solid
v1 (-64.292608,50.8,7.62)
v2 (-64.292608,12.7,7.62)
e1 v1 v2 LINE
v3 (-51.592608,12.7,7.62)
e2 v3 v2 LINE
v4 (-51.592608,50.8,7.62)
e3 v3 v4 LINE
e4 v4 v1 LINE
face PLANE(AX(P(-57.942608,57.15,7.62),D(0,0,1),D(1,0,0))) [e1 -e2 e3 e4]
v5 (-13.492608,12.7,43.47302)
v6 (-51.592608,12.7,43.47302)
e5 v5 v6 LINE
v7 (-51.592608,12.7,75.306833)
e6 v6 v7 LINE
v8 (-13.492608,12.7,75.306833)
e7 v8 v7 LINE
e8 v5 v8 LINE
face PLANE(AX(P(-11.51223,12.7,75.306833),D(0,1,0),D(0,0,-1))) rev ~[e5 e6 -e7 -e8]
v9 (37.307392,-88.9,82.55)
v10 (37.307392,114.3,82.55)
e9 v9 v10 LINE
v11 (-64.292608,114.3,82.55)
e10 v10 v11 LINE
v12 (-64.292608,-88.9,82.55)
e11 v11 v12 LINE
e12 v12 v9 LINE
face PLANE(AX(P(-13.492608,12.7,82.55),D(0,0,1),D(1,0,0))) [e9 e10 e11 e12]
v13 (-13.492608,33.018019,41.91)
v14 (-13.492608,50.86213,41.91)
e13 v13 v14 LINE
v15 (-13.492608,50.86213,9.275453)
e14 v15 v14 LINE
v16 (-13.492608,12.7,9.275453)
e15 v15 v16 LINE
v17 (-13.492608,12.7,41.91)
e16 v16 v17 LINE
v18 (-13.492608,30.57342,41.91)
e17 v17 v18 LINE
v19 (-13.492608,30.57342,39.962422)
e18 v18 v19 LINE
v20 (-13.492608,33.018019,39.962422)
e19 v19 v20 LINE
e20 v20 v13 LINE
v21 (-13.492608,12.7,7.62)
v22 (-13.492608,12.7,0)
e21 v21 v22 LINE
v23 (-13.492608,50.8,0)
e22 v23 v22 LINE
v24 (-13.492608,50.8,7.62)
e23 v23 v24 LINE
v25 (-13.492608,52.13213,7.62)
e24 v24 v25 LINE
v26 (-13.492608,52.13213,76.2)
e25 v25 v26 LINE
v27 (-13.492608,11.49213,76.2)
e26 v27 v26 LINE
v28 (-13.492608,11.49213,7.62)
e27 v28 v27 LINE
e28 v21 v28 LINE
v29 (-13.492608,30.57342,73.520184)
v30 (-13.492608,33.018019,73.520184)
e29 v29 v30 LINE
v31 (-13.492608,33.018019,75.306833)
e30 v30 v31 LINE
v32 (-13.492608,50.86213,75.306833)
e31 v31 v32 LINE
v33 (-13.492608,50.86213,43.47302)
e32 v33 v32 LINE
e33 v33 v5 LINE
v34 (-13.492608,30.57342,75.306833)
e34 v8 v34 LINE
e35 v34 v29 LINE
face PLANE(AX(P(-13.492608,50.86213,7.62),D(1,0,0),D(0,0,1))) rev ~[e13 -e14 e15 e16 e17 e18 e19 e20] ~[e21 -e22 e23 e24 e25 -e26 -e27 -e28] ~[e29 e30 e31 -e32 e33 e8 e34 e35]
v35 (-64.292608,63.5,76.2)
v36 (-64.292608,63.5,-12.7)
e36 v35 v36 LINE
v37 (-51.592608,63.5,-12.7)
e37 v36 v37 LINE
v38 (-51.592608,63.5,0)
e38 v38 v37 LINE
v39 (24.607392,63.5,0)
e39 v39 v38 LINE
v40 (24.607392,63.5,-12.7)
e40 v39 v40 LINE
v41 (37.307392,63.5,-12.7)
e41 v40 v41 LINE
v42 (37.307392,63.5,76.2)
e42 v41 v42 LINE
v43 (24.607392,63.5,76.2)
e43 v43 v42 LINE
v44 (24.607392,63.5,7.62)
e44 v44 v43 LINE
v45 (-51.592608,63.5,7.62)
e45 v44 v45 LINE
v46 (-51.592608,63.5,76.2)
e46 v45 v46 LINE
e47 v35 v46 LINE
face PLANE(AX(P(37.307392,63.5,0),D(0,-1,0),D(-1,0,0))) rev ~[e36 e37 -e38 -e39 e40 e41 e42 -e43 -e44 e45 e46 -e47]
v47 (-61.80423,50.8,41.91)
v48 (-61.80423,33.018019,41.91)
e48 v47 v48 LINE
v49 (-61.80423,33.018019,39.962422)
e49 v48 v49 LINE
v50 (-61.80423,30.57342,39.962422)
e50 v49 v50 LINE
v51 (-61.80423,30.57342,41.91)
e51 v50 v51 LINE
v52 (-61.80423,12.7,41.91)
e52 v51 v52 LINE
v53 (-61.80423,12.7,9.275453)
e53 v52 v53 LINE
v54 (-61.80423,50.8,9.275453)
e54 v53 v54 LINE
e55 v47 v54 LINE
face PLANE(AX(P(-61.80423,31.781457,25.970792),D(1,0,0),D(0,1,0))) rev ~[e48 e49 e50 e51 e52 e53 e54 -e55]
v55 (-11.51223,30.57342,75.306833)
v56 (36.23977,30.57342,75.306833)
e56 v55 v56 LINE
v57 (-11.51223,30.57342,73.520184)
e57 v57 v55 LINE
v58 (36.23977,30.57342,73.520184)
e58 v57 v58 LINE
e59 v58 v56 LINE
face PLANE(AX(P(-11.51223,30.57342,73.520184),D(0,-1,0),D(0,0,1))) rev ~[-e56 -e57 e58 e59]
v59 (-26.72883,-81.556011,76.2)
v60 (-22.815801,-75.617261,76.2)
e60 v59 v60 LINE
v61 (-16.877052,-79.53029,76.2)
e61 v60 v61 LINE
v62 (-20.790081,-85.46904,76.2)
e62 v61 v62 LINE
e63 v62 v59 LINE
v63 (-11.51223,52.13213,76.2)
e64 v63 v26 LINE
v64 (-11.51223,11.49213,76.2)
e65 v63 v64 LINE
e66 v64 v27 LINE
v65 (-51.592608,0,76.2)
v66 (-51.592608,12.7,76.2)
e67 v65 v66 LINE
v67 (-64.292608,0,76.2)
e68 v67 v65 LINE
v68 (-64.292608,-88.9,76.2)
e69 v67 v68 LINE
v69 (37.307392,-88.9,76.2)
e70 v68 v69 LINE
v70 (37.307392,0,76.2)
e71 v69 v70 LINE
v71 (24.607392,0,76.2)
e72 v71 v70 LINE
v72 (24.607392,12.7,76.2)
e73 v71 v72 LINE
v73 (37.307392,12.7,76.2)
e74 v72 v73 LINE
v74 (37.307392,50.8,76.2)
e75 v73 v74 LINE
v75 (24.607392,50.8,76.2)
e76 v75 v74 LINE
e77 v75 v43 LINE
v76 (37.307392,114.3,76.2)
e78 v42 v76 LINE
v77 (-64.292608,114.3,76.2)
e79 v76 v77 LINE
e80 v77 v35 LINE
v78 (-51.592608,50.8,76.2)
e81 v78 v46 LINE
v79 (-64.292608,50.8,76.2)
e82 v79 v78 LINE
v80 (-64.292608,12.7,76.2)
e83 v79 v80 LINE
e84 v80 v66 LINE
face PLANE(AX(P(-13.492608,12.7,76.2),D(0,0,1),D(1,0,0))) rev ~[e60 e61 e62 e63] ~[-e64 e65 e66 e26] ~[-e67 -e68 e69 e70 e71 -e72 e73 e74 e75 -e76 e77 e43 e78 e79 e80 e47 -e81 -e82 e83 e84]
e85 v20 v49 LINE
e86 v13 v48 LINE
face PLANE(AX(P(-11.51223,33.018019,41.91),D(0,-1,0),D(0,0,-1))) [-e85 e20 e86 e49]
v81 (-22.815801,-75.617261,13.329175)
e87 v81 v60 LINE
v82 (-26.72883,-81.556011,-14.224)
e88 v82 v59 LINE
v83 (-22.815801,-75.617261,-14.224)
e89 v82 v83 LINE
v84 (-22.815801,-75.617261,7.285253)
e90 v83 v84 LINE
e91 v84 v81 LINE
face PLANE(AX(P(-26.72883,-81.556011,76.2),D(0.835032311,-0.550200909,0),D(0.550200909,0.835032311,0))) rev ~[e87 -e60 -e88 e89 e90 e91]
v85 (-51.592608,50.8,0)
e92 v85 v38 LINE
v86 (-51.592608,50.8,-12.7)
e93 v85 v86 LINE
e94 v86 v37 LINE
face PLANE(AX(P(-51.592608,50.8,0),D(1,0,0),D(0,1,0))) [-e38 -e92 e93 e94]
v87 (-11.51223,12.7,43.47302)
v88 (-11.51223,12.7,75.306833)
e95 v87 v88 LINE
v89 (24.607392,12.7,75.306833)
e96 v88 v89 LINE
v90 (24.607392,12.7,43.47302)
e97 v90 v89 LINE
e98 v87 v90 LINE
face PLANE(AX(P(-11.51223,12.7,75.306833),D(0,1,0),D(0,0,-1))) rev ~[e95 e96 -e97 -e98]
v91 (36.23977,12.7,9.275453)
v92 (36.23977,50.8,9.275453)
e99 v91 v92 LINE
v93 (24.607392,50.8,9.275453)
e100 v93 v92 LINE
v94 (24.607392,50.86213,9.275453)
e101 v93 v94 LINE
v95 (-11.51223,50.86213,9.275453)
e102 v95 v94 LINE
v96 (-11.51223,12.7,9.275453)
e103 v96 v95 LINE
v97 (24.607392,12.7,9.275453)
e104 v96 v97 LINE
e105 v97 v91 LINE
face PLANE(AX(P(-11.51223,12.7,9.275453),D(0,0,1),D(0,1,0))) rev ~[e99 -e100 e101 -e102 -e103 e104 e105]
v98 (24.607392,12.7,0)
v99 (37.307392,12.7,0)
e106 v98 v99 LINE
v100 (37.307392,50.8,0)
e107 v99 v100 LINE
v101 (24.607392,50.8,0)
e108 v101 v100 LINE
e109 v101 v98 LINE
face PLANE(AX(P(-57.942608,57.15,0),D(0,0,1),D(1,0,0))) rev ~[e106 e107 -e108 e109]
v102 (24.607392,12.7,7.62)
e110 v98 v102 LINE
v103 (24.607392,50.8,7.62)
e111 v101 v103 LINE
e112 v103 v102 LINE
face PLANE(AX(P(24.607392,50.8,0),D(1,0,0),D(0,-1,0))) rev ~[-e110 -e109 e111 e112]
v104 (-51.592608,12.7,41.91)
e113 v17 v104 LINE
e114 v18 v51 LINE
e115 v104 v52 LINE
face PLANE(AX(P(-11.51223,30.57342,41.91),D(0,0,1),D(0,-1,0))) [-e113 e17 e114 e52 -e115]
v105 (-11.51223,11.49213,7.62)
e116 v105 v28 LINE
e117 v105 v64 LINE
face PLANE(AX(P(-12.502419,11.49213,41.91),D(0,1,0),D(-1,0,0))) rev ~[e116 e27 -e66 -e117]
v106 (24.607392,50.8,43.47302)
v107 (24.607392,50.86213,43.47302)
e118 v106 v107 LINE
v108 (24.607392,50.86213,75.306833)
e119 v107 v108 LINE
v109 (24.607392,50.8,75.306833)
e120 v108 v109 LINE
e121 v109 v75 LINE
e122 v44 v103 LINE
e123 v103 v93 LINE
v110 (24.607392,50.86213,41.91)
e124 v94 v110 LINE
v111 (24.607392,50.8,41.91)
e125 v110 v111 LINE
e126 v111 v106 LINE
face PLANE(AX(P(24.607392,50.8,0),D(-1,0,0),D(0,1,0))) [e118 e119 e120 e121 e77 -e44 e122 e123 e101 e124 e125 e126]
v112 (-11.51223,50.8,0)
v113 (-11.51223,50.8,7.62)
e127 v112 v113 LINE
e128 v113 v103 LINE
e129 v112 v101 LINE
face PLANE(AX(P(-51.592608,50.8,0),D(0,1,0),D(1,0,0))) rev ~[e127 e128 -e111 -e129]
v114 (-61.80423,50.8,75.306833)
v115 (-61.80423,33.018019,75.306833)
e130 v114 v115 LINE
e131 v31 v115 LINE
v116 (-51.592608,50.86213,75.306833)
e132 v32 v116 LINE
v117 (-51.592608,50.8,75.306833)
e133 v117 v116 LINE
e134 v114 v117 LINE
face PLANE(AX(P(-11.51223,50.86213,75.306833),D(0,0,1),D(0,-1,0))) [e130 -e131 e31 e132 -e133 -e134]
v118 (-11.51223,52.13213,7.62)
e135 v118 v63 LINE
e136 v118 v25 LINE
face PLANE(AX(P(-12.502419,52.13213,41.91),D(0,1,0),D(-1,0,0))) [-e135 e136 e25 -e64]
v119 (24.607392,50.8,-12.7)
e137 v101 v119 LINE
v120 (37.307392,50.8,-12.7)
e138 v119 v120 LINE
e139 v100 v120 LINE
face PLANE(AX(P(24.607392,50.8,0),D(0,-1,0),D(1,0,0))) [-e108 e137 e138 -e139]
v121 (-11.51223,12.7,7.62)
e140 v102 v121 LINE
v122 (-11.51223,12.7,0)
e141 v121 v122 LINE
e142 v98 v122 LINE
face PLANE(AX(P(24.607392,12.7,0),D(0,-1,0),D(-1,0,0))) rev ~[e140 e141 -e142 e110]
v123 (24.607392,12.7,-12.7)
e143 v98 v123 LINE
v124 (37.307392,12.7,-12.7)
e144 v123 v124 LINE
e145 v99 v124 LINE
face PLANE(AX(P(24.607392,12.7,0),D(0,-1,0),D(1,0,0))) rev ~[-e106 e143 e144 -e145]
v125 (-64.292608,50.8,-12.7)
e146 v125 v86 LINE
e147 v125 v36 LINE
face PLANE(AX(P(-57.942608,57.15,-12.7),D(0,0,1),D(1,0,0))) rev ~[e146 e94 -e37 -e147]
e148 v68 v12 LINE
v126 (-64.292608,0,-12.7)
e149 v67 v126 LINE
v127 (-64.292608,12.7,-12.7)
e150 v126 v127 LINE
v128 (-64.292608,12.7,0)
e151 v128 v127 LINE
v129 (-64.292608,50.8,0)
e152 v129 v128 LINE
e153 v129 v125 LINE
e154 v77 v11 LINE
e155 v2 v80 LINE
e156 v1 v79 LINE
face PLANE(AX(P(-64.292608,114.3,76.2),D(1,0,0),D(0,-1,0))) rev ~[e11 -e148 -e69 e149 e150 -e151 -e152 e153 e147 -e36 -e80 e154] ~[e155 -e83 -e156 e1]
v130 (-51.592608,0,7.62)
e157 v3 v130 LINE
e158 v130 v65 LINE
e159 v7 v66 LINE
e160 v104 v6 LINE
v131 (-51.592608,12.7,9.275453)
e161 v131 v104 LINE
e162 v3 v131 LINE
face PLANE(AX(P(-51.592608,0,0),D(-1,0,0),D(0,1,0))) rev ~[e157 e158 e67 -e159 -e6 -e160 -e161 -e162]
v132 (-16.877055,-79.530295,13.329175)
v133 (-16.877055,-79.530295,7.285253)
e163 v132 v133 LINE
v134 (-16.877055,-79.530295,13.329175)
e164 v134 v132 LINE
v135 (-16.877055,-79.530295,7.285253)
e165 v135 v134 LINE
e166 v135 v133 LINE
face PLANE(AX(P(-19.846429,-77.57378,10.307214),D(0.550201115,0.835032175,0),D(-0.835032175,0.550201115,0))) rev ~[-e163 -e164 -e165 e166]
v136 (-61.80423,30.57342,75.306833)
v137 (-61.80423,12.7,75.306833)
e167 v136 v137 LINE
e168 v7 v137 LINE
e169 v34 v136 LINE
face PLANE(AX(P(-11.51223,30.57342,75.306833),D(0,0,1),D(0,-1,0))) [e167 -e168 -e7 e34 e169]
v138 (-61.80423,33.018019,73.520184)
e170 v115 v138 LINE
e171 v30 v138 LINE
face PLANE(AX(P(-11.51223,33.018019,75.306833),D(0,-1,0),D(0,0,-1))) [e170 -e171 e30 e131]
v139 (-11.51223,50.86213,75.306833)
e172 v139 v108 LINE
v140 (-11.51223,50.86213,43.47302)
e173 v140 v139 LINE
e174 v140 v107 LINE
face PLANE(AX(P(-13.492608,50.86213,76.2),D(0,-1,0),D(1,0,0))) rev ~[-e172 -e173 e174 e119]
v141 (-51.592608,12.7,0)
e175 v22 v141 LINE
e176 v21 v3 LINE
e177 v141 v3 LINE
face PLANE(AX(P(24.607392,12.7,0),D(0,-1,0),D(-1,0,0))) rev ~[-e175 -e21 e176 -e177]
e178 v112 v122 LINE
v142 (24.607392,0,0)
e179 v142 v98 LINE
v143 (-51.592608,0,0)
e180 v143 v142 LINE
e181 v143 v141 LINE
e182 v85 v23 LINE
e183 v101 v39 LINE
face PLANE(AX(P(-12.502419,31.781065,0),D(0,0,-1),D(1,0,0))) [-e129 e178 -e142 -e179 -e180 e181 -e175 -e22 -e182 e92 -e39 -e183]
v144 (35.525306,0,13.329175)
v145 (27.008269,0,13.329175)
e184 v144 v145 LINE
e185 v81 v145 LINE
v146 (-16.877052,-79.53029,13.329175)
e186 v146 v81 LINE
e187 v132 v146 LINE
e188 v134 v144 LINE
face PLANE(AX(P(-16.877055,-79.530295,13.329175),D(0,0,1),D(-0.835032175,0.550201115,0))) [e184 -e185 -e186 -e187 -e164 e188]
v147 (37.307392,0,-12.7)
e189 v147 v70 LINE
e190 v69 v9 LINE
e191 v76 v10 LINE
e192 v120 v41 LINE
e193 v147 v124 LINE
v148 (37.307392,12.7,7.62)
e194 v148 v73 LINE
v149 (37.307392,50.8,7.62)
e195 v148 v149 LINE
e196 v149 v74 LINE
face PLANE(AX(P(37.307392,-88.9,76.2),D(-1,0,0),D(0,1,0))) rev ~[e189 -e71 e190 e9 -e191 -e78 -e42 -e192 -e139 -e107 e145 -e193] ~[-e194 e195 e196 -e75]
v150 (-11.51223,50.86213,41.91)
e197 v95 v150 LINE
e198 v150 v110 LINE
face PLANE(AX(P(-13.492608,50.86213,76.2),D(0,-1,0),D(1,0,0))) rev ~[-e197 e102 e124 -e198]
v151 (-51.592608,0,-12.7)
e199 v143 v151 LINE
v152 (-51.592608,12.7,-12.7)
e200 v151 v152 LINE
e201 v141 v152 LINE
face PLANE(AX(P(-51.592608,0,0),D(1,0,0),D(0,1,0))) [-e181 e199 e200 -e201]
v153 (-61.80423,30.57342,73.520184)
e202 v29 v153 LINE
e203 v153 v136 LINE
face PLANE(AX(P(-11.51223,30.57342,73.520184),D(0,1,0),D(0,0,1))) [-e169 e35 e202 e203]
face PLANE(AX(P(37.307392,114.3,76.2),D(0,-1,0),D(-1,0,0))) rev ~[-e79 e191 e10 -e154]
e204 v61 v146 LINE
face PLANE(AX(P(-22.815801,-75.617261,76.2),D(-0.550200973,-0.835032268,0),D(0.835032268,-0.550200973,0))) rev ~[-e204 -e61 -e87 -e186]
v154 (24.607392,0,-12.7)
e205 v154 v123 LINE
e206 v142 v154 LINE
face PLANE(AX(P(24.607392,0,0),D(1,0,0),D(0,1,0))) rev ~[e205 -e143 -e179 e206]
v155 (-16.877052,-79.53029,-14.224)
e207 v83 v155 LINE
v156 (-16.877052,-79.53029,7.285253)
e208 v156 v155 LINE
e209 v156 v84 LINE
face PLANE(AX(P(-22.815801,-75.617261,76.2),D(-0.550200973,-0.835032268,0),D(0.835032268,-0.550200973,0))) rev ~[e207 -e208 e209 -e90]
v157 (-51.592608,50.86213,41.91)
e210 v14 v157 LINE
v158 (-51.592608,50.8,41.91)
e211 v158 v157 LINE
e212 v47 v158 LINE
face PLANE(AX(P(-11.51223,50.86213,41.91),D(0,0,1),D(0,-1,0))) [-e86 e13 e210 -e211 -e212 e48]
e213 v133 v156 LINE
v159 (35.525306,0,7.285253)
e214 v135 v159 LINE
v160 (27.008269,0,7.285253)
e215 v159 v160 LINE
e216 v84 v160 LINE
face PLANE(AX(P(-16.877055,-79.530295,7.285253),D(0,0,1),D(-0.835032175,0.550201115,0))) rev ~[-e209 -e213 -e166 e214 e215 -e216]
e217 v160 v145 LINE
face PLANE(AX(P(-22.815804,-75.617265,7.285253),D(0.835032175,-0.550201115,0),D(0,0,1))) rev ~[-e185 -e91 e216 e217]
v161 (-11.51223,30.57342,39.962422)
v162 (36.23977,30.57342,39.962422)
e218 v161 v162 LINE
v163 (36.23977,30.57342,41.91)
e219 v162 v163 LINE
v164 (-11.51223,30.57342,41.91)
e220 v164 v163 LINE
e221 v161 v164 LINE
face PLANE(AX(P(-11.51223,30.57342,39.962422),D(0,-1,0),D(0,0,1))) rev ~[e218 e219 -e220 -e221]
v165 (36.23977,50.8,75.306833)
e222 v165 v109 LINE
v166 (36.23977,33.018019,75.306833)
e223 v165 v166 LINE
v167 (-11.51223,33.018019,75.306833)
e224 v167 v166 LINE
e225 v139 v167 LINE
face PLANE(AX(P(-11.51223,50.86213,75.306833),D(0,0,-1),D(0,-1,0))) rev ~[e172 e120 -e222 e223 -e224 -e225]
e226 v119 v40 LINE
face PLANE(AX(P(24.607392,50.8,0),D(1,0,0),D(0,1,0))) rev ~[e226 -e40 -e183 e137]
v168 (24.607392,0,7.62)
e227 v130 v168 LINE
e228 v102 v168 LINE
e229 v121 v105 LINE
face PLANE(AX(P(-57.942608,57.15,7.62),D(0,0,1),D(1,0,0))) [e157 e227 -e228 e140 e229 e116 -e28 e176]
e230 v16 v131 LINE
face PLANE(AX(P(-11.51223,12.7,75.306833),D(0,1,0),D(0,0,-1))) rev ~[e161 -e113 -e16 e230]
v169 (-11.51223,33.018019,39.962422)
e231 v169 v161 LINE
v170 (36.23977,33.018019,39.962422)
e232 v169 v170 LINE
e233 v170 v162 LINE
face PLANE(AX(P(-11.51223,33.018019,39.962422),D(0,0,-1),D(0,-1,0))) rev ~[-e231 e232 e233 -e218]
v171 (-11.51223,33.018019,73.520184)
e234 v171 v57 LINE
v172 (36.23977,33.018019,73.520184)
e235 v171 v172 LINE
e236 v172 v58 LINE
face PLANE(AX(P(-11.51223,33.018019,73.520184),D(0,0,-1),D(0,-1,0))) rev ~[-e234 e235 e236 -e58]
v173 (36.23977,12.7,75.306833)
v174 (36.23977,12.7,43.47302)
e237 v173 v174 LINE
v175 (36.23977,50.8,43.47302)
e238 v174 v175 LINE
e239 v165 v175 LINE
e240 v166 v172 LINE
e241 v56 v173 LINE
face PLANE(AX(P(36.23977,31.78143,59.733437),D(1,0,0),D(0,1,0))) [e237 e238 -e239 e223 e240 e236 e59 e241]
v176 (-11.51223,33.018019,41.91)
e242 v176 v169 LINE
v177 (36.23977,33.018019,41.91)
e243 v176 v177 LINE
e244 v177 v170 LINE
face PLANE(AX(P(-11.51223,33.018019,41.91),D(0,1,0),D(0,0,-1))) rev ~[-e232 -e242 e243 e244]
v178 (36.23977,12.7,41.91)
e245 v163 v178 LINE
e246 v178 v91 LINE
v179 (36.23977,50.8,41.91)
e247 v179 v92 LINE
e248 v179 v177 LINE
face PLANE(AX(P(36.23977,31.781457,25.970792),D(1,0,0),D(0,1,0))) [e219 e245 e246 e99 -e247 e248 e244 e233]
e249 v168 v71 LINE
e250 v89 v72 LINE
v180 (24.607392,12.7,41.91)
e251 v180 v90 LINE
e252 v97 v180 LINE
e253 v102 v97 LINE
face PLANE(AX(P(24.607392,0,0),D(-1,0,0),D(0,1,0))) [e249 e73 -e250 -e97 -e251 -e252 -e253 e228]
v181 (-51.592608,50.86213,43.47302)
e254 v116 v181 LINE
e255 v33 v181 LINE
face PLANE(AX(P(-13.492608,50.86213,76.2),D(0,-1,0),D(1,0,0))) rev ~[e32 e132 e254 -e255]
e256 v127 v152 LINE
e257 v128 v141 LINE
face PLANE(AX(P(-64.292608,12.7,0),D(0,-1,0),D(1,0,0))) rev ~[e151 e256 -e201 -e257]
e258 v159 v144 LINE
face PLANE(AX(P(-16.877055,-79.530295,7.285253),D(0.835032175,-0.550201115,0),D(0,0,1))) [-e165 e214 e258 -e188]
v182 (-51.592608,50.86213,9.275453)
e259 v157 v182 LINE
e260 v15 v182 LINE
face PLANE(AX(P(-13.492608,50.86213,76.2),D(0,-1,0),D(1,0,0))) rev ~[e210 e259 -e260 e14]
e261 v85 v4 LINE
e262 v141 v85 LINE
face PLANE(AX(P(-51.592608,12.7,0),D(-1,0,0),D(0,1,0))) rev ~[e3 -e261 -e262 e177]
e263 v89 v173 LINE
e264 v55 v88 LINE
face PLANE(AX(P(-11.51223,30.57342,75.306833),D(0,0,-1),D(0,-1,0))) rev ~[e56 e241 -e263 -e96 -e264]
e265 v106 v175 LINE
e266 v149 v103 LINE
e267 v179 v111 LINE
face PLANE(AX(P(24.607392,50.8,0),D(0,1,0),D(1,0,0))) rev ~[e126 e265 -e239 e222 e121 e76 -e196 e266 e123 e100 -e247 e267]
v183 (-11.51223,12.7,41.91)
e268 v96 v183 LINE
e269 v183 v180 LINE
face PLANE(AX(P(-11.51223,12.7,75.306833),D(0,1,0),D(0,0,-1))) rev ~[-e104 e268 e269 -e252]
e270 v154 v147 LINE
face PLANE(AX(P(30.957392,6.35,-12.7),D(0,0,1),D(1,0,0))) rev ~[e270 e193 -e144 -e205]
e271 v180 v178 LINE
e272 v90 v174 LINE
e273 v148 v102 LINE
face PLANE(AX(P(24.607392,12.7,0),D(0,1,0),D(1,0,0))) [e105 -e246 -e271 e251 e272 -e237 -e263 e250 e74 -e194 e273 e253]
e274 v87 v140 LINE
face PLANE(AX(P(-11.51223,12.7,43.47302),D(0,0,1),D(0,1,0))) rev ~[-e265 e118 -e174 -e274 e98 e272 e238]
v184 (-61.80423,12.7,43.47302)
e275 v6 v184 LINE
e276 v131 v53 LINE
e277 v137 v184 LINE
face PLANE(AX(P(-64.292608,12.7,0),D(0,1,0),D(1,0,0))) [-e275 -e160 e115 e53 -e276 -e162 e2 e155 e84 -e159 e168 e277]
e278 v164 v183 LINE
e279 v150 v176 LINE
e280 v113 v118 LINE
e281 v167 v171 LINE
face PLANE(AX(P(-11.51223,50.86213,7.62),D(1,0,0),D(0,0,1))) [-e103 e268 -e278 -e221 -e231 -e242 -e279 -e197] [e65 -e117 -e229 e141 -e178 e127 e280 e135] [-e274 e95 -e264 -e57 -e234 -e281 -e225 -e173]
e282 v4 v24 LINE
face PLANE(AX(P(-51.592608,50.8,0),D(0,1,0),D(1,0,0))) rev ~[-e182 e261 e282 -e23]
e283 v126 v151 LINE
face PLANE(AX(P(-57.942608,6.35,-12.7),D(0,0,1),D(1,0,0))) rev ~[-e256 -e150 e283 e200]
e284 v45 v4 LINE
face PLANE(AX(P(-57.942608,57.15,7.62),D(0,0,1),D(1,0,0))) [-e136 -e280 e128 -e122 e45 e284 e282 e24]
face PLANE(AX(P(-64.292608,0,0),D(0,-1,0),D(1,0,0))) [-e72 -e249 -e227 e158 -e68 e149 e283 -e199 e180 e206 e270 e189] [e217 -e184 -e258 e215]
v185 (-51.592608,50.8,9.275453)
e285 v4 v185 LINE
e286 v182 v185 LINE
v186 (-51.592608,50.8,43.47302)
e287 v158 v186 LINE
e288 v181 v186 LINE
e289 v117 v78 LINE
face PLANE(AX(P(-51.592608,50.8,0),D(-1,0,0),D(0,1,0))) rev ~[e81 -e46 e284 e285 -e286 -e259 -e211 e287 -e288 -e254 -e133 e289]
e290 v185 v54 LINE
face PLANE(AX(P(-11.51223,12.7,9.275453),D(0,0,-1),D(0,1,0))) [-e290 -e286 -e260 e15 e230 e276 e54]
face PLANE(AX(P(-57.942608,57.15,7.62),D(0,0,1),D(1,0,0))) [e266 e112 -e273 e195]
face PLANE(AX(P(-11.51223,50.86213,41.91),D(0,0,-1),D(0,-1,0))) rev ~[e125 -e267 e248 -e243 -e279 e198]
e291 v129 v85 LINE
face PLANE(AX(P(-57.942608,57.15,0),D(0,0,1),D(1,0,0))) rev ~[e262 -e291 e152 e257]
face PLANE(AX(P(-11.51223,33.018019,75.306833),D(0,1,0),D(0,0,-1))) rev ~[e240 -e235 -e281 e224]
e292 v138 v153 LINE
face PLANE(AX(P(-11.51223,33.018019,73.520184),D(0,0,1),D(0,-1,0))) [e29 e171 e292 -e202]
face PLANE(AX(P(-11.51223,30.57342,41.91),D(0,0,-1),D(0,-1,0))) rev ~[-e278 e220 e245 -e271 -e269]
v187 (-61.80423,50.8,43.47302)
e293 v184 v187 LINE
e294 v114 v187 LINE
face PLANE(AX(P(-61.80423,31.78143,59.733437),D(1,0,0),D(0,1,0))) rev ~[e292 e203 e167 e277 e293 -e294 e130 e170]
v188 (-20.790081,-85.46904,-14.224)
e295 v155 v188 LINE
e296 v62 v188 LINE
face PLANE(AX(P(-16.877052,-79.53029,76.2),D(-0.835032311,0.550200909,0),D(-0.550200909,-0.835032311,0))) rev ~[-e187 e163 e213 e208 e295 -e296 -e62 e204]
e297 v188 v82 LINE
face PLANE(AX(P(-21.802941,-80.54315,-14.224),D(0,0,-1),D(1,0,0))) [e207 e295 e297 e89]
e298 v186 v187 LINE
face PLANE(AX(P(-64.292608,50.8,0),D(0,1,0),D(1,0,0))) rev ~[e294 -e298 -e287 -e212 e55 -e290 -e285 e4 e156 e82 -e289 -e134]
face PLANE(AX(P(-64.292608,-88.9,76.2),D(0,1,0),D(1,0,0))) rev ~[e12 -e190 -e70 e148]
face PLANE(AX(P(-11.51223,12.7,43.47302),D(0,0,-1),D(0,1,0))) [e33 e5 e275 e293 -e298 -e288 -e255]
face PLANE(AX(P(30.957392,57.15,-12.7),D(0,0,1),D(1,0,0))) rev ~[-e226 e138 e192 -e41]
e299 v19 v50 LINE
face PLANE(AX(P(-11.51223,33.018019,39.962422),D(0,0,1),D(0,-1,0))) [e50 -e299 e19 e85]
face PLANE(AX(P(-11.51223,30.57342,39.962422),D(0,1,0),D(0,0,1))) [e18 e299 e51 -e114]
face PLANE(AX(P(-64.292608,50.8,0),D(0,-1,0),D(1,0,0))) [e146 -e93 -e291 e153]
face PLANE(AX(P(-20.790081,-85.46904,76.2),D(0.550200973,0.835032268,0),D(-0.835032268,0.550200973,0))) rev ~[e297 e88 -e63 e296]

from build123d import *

# Parameters (mm, degrees)
F0_W           = 12.7
F0_H           = 12.7
F0_H_2         = 38.1
F0_W_2         = 76.2
F1_DEPTH       = 7.62
F2_DEPTH       = 12.7
F3_DEPTH       = 76.2
F5_DEPTH       = 6.35
F6_W           = 1.980378
F6_H           = 38.16213
F7_DEPTH       = 76.2
F9_DEPTH       = 47.752
F9_DEPTH_BACK  = 50.292
F10_DEPTH      = 47.752
F10_DEPTH_BACK = 50.292
F11_W          = 1.980378
F11_H          = 68.58
F12_DEPTH      = 1.27
F12_DEPTH_BACK = 39.37
F14_DEPTH      = 90.17
F15_DEPTH      = 90.424
F16_W          = 7.112
F16_H          = 6.043921
F17_DEPTH      = 97.028


with BuildPart() as f1:
    # F0 (on Top) → F1 (new body)
    with BuildSketch(Plane.XY):
        with Locations((-57.942608, 57.15)):
            Rectangle(F0_W, F0_H)
        with Locations((-57.942608, 31.75)):
            Rectangle(F0_W, F0_H_2)
        with Locations((-57.942608, 6.35)):
            Rectangle(F0_W, F0_H)
        with Locations((-13.492608, 6.35)):
            Rectangle(F0_W_2, F0_H)
        with Locations((30.957392, 6.35)):
            Rectangle(F0_W, F0_H)
        with Locations((30.957392, 31.75)):
            Rectangle(F0_W, F0_H_2)
        with Locations((30.957392, 57.15)):
            Rectangle(F0_W, F0_H)
        with Locations((-13.492608, 57.15)):
            Rectangle(F0_W_2, F0_H)
    extrude(amount=F1_DEPTH)

    # F0 (on Top) → F2 (join)
    with BuildSketch(Plane.XY):
        with Locations((-57.942608, 6.35)):
            Rectangle(F0_W, F0_H)
        with Locations((-57.942608, 57.15)):
            Rectangle(F0_W, F0_H)
        with Locations((30.957392, 57.15)):
            Rectangle(F0_W, F0_H)
        with Locations((30.957392, 6.35)):
            Rectangle(F0_W, F0_H)
    extrude(amount=-F2_DEPTH)

    # F0 (on Top) → F3 (join)
    with BuildSketch(Plane.XY):
        with Locations((30.957392, 6.35)):
            Rectangle(F0_W, F0_H)
        with Locations((30.957392, 57.15)):
            Rectangle(F0_W, F0_H)
        with Locations((-57.942608, 57.15)):
            Rectangle(F0_W, F0_H)
        with Locations((-57.942608, 6.35)):
            Rectangle(F0_W, F0_H)
    extrude(amount=F3_DEPTH)

    # F4 (on face) → F5 (join)
    with BuildSketch(Plane.XY.offset(76.2)):
        Polygon((-64.292608, 63.5), (-64.292608, -88.9), (37.307392, -88.9), (37.307392, 63.5), (37.307392, 114.3), (-64.292608, 114.3), align=None)
    extrude(amount=F5_DEPTH)

    # F6 (on face) → F7 (join)
    with BuildSketch(Plane(origin=(0, 0, 76.2), x_dir=(1, 0, 0), z_dir=(0, 0, -1))):
        with Locations((-12.502419, -31.781065)):
            Rectangle(F6_W, F6_H)
    extrude(amount=F7_DEPTH)

    # F8 (on face) → F9 (join, two sides)
    with BuildSketch(Plane.YZ.offset(-11.51223)) as f9_sk:
        Polygon((30.57342, 41.91), (12.7, 41.91), (12.7, 9.275453), (50.86213, 9.275453), (50.86213, 41.91), (33.018019, 41.91), (33.018019, 39.962422), (30.57342, 39.962422), align=None)
    extrude(amount=F9_DEPTH)
    extrude(f9_sk.sketch, amount=-F9_DEPTH_BACK)

    # F8 (on face) → F10 (join, two sides)
    with BuildSketch(Plane.YZ.offset(-11.51223)) as f10_sk:
        Polygon((30.57342, 75.306833), (12.7, 75.306833), (12.7, 43.47302), (50.86213, 43.47302), (50.86213, 75.306833), (33.018019, 75.306833), (33.018019, 73.520184), (30.57342, 73.520184), align=None)
    extrude(amount=F10_DEPTH)
    extrude(f10_sk.sketch, amount=-F10_DEPTH_BACK)

    # F11 (on face) → F12 (join, two sides)
    with BuildSketch(Plane(origin=(0, 50.86213, 0), x_dir=(-1, 0, 0), z_dir=(0, 1, 0))) as f12_sk:
        with Locations((12.502419, 41.91)):
            Rectangle(F11_W, F11_H)
    extrude(amount=F12_DEPTH)
    extrude(f12_sk.sketch, amount=-F12_DEPTH_BACK)

    # F13 (on face) → F14 (join)
    with BuildSketch(Plane(origin=(0, 0, 76.2), x_dir=(1, 0, 0), z_dir=(0, 0, -1))):
        Polygon((-16.877052, 79.53029), (-20.790081, 85.46904), (-26.72883, 81.556011), (-22.815801, 75.617261), align=None)
    extrude(amount=F14_DEPTH)

    # F13 (on face) → F15 (join)
    with BuildSketch(Plane(origin=(0, 0, 76.2), x_dir=(1, 0, 0), z_dir=(0, 0, -1))):
        Polygon((-16.877052, 79.53029), (-20.790081, 85.46904), (-26.72883, 81.556011), (-22.815801, 75.617261), align=None)
    extrude(amount=F15_DEPTH)

    # F16 (on face) → F17 (join)
    with BuildSketch(Plane(origin=(-41.648083, -63.208712, 0), x_dir=(-0.835032, 0.550201, 0), z_dir=(0.550201, 0.835032, 0))):
        with Locations((-26.108759, 10.307214)):
            Rectangle(F16_W, F16_H)
    extrude(amount=F17_DEPTH)


solid = f1.part
